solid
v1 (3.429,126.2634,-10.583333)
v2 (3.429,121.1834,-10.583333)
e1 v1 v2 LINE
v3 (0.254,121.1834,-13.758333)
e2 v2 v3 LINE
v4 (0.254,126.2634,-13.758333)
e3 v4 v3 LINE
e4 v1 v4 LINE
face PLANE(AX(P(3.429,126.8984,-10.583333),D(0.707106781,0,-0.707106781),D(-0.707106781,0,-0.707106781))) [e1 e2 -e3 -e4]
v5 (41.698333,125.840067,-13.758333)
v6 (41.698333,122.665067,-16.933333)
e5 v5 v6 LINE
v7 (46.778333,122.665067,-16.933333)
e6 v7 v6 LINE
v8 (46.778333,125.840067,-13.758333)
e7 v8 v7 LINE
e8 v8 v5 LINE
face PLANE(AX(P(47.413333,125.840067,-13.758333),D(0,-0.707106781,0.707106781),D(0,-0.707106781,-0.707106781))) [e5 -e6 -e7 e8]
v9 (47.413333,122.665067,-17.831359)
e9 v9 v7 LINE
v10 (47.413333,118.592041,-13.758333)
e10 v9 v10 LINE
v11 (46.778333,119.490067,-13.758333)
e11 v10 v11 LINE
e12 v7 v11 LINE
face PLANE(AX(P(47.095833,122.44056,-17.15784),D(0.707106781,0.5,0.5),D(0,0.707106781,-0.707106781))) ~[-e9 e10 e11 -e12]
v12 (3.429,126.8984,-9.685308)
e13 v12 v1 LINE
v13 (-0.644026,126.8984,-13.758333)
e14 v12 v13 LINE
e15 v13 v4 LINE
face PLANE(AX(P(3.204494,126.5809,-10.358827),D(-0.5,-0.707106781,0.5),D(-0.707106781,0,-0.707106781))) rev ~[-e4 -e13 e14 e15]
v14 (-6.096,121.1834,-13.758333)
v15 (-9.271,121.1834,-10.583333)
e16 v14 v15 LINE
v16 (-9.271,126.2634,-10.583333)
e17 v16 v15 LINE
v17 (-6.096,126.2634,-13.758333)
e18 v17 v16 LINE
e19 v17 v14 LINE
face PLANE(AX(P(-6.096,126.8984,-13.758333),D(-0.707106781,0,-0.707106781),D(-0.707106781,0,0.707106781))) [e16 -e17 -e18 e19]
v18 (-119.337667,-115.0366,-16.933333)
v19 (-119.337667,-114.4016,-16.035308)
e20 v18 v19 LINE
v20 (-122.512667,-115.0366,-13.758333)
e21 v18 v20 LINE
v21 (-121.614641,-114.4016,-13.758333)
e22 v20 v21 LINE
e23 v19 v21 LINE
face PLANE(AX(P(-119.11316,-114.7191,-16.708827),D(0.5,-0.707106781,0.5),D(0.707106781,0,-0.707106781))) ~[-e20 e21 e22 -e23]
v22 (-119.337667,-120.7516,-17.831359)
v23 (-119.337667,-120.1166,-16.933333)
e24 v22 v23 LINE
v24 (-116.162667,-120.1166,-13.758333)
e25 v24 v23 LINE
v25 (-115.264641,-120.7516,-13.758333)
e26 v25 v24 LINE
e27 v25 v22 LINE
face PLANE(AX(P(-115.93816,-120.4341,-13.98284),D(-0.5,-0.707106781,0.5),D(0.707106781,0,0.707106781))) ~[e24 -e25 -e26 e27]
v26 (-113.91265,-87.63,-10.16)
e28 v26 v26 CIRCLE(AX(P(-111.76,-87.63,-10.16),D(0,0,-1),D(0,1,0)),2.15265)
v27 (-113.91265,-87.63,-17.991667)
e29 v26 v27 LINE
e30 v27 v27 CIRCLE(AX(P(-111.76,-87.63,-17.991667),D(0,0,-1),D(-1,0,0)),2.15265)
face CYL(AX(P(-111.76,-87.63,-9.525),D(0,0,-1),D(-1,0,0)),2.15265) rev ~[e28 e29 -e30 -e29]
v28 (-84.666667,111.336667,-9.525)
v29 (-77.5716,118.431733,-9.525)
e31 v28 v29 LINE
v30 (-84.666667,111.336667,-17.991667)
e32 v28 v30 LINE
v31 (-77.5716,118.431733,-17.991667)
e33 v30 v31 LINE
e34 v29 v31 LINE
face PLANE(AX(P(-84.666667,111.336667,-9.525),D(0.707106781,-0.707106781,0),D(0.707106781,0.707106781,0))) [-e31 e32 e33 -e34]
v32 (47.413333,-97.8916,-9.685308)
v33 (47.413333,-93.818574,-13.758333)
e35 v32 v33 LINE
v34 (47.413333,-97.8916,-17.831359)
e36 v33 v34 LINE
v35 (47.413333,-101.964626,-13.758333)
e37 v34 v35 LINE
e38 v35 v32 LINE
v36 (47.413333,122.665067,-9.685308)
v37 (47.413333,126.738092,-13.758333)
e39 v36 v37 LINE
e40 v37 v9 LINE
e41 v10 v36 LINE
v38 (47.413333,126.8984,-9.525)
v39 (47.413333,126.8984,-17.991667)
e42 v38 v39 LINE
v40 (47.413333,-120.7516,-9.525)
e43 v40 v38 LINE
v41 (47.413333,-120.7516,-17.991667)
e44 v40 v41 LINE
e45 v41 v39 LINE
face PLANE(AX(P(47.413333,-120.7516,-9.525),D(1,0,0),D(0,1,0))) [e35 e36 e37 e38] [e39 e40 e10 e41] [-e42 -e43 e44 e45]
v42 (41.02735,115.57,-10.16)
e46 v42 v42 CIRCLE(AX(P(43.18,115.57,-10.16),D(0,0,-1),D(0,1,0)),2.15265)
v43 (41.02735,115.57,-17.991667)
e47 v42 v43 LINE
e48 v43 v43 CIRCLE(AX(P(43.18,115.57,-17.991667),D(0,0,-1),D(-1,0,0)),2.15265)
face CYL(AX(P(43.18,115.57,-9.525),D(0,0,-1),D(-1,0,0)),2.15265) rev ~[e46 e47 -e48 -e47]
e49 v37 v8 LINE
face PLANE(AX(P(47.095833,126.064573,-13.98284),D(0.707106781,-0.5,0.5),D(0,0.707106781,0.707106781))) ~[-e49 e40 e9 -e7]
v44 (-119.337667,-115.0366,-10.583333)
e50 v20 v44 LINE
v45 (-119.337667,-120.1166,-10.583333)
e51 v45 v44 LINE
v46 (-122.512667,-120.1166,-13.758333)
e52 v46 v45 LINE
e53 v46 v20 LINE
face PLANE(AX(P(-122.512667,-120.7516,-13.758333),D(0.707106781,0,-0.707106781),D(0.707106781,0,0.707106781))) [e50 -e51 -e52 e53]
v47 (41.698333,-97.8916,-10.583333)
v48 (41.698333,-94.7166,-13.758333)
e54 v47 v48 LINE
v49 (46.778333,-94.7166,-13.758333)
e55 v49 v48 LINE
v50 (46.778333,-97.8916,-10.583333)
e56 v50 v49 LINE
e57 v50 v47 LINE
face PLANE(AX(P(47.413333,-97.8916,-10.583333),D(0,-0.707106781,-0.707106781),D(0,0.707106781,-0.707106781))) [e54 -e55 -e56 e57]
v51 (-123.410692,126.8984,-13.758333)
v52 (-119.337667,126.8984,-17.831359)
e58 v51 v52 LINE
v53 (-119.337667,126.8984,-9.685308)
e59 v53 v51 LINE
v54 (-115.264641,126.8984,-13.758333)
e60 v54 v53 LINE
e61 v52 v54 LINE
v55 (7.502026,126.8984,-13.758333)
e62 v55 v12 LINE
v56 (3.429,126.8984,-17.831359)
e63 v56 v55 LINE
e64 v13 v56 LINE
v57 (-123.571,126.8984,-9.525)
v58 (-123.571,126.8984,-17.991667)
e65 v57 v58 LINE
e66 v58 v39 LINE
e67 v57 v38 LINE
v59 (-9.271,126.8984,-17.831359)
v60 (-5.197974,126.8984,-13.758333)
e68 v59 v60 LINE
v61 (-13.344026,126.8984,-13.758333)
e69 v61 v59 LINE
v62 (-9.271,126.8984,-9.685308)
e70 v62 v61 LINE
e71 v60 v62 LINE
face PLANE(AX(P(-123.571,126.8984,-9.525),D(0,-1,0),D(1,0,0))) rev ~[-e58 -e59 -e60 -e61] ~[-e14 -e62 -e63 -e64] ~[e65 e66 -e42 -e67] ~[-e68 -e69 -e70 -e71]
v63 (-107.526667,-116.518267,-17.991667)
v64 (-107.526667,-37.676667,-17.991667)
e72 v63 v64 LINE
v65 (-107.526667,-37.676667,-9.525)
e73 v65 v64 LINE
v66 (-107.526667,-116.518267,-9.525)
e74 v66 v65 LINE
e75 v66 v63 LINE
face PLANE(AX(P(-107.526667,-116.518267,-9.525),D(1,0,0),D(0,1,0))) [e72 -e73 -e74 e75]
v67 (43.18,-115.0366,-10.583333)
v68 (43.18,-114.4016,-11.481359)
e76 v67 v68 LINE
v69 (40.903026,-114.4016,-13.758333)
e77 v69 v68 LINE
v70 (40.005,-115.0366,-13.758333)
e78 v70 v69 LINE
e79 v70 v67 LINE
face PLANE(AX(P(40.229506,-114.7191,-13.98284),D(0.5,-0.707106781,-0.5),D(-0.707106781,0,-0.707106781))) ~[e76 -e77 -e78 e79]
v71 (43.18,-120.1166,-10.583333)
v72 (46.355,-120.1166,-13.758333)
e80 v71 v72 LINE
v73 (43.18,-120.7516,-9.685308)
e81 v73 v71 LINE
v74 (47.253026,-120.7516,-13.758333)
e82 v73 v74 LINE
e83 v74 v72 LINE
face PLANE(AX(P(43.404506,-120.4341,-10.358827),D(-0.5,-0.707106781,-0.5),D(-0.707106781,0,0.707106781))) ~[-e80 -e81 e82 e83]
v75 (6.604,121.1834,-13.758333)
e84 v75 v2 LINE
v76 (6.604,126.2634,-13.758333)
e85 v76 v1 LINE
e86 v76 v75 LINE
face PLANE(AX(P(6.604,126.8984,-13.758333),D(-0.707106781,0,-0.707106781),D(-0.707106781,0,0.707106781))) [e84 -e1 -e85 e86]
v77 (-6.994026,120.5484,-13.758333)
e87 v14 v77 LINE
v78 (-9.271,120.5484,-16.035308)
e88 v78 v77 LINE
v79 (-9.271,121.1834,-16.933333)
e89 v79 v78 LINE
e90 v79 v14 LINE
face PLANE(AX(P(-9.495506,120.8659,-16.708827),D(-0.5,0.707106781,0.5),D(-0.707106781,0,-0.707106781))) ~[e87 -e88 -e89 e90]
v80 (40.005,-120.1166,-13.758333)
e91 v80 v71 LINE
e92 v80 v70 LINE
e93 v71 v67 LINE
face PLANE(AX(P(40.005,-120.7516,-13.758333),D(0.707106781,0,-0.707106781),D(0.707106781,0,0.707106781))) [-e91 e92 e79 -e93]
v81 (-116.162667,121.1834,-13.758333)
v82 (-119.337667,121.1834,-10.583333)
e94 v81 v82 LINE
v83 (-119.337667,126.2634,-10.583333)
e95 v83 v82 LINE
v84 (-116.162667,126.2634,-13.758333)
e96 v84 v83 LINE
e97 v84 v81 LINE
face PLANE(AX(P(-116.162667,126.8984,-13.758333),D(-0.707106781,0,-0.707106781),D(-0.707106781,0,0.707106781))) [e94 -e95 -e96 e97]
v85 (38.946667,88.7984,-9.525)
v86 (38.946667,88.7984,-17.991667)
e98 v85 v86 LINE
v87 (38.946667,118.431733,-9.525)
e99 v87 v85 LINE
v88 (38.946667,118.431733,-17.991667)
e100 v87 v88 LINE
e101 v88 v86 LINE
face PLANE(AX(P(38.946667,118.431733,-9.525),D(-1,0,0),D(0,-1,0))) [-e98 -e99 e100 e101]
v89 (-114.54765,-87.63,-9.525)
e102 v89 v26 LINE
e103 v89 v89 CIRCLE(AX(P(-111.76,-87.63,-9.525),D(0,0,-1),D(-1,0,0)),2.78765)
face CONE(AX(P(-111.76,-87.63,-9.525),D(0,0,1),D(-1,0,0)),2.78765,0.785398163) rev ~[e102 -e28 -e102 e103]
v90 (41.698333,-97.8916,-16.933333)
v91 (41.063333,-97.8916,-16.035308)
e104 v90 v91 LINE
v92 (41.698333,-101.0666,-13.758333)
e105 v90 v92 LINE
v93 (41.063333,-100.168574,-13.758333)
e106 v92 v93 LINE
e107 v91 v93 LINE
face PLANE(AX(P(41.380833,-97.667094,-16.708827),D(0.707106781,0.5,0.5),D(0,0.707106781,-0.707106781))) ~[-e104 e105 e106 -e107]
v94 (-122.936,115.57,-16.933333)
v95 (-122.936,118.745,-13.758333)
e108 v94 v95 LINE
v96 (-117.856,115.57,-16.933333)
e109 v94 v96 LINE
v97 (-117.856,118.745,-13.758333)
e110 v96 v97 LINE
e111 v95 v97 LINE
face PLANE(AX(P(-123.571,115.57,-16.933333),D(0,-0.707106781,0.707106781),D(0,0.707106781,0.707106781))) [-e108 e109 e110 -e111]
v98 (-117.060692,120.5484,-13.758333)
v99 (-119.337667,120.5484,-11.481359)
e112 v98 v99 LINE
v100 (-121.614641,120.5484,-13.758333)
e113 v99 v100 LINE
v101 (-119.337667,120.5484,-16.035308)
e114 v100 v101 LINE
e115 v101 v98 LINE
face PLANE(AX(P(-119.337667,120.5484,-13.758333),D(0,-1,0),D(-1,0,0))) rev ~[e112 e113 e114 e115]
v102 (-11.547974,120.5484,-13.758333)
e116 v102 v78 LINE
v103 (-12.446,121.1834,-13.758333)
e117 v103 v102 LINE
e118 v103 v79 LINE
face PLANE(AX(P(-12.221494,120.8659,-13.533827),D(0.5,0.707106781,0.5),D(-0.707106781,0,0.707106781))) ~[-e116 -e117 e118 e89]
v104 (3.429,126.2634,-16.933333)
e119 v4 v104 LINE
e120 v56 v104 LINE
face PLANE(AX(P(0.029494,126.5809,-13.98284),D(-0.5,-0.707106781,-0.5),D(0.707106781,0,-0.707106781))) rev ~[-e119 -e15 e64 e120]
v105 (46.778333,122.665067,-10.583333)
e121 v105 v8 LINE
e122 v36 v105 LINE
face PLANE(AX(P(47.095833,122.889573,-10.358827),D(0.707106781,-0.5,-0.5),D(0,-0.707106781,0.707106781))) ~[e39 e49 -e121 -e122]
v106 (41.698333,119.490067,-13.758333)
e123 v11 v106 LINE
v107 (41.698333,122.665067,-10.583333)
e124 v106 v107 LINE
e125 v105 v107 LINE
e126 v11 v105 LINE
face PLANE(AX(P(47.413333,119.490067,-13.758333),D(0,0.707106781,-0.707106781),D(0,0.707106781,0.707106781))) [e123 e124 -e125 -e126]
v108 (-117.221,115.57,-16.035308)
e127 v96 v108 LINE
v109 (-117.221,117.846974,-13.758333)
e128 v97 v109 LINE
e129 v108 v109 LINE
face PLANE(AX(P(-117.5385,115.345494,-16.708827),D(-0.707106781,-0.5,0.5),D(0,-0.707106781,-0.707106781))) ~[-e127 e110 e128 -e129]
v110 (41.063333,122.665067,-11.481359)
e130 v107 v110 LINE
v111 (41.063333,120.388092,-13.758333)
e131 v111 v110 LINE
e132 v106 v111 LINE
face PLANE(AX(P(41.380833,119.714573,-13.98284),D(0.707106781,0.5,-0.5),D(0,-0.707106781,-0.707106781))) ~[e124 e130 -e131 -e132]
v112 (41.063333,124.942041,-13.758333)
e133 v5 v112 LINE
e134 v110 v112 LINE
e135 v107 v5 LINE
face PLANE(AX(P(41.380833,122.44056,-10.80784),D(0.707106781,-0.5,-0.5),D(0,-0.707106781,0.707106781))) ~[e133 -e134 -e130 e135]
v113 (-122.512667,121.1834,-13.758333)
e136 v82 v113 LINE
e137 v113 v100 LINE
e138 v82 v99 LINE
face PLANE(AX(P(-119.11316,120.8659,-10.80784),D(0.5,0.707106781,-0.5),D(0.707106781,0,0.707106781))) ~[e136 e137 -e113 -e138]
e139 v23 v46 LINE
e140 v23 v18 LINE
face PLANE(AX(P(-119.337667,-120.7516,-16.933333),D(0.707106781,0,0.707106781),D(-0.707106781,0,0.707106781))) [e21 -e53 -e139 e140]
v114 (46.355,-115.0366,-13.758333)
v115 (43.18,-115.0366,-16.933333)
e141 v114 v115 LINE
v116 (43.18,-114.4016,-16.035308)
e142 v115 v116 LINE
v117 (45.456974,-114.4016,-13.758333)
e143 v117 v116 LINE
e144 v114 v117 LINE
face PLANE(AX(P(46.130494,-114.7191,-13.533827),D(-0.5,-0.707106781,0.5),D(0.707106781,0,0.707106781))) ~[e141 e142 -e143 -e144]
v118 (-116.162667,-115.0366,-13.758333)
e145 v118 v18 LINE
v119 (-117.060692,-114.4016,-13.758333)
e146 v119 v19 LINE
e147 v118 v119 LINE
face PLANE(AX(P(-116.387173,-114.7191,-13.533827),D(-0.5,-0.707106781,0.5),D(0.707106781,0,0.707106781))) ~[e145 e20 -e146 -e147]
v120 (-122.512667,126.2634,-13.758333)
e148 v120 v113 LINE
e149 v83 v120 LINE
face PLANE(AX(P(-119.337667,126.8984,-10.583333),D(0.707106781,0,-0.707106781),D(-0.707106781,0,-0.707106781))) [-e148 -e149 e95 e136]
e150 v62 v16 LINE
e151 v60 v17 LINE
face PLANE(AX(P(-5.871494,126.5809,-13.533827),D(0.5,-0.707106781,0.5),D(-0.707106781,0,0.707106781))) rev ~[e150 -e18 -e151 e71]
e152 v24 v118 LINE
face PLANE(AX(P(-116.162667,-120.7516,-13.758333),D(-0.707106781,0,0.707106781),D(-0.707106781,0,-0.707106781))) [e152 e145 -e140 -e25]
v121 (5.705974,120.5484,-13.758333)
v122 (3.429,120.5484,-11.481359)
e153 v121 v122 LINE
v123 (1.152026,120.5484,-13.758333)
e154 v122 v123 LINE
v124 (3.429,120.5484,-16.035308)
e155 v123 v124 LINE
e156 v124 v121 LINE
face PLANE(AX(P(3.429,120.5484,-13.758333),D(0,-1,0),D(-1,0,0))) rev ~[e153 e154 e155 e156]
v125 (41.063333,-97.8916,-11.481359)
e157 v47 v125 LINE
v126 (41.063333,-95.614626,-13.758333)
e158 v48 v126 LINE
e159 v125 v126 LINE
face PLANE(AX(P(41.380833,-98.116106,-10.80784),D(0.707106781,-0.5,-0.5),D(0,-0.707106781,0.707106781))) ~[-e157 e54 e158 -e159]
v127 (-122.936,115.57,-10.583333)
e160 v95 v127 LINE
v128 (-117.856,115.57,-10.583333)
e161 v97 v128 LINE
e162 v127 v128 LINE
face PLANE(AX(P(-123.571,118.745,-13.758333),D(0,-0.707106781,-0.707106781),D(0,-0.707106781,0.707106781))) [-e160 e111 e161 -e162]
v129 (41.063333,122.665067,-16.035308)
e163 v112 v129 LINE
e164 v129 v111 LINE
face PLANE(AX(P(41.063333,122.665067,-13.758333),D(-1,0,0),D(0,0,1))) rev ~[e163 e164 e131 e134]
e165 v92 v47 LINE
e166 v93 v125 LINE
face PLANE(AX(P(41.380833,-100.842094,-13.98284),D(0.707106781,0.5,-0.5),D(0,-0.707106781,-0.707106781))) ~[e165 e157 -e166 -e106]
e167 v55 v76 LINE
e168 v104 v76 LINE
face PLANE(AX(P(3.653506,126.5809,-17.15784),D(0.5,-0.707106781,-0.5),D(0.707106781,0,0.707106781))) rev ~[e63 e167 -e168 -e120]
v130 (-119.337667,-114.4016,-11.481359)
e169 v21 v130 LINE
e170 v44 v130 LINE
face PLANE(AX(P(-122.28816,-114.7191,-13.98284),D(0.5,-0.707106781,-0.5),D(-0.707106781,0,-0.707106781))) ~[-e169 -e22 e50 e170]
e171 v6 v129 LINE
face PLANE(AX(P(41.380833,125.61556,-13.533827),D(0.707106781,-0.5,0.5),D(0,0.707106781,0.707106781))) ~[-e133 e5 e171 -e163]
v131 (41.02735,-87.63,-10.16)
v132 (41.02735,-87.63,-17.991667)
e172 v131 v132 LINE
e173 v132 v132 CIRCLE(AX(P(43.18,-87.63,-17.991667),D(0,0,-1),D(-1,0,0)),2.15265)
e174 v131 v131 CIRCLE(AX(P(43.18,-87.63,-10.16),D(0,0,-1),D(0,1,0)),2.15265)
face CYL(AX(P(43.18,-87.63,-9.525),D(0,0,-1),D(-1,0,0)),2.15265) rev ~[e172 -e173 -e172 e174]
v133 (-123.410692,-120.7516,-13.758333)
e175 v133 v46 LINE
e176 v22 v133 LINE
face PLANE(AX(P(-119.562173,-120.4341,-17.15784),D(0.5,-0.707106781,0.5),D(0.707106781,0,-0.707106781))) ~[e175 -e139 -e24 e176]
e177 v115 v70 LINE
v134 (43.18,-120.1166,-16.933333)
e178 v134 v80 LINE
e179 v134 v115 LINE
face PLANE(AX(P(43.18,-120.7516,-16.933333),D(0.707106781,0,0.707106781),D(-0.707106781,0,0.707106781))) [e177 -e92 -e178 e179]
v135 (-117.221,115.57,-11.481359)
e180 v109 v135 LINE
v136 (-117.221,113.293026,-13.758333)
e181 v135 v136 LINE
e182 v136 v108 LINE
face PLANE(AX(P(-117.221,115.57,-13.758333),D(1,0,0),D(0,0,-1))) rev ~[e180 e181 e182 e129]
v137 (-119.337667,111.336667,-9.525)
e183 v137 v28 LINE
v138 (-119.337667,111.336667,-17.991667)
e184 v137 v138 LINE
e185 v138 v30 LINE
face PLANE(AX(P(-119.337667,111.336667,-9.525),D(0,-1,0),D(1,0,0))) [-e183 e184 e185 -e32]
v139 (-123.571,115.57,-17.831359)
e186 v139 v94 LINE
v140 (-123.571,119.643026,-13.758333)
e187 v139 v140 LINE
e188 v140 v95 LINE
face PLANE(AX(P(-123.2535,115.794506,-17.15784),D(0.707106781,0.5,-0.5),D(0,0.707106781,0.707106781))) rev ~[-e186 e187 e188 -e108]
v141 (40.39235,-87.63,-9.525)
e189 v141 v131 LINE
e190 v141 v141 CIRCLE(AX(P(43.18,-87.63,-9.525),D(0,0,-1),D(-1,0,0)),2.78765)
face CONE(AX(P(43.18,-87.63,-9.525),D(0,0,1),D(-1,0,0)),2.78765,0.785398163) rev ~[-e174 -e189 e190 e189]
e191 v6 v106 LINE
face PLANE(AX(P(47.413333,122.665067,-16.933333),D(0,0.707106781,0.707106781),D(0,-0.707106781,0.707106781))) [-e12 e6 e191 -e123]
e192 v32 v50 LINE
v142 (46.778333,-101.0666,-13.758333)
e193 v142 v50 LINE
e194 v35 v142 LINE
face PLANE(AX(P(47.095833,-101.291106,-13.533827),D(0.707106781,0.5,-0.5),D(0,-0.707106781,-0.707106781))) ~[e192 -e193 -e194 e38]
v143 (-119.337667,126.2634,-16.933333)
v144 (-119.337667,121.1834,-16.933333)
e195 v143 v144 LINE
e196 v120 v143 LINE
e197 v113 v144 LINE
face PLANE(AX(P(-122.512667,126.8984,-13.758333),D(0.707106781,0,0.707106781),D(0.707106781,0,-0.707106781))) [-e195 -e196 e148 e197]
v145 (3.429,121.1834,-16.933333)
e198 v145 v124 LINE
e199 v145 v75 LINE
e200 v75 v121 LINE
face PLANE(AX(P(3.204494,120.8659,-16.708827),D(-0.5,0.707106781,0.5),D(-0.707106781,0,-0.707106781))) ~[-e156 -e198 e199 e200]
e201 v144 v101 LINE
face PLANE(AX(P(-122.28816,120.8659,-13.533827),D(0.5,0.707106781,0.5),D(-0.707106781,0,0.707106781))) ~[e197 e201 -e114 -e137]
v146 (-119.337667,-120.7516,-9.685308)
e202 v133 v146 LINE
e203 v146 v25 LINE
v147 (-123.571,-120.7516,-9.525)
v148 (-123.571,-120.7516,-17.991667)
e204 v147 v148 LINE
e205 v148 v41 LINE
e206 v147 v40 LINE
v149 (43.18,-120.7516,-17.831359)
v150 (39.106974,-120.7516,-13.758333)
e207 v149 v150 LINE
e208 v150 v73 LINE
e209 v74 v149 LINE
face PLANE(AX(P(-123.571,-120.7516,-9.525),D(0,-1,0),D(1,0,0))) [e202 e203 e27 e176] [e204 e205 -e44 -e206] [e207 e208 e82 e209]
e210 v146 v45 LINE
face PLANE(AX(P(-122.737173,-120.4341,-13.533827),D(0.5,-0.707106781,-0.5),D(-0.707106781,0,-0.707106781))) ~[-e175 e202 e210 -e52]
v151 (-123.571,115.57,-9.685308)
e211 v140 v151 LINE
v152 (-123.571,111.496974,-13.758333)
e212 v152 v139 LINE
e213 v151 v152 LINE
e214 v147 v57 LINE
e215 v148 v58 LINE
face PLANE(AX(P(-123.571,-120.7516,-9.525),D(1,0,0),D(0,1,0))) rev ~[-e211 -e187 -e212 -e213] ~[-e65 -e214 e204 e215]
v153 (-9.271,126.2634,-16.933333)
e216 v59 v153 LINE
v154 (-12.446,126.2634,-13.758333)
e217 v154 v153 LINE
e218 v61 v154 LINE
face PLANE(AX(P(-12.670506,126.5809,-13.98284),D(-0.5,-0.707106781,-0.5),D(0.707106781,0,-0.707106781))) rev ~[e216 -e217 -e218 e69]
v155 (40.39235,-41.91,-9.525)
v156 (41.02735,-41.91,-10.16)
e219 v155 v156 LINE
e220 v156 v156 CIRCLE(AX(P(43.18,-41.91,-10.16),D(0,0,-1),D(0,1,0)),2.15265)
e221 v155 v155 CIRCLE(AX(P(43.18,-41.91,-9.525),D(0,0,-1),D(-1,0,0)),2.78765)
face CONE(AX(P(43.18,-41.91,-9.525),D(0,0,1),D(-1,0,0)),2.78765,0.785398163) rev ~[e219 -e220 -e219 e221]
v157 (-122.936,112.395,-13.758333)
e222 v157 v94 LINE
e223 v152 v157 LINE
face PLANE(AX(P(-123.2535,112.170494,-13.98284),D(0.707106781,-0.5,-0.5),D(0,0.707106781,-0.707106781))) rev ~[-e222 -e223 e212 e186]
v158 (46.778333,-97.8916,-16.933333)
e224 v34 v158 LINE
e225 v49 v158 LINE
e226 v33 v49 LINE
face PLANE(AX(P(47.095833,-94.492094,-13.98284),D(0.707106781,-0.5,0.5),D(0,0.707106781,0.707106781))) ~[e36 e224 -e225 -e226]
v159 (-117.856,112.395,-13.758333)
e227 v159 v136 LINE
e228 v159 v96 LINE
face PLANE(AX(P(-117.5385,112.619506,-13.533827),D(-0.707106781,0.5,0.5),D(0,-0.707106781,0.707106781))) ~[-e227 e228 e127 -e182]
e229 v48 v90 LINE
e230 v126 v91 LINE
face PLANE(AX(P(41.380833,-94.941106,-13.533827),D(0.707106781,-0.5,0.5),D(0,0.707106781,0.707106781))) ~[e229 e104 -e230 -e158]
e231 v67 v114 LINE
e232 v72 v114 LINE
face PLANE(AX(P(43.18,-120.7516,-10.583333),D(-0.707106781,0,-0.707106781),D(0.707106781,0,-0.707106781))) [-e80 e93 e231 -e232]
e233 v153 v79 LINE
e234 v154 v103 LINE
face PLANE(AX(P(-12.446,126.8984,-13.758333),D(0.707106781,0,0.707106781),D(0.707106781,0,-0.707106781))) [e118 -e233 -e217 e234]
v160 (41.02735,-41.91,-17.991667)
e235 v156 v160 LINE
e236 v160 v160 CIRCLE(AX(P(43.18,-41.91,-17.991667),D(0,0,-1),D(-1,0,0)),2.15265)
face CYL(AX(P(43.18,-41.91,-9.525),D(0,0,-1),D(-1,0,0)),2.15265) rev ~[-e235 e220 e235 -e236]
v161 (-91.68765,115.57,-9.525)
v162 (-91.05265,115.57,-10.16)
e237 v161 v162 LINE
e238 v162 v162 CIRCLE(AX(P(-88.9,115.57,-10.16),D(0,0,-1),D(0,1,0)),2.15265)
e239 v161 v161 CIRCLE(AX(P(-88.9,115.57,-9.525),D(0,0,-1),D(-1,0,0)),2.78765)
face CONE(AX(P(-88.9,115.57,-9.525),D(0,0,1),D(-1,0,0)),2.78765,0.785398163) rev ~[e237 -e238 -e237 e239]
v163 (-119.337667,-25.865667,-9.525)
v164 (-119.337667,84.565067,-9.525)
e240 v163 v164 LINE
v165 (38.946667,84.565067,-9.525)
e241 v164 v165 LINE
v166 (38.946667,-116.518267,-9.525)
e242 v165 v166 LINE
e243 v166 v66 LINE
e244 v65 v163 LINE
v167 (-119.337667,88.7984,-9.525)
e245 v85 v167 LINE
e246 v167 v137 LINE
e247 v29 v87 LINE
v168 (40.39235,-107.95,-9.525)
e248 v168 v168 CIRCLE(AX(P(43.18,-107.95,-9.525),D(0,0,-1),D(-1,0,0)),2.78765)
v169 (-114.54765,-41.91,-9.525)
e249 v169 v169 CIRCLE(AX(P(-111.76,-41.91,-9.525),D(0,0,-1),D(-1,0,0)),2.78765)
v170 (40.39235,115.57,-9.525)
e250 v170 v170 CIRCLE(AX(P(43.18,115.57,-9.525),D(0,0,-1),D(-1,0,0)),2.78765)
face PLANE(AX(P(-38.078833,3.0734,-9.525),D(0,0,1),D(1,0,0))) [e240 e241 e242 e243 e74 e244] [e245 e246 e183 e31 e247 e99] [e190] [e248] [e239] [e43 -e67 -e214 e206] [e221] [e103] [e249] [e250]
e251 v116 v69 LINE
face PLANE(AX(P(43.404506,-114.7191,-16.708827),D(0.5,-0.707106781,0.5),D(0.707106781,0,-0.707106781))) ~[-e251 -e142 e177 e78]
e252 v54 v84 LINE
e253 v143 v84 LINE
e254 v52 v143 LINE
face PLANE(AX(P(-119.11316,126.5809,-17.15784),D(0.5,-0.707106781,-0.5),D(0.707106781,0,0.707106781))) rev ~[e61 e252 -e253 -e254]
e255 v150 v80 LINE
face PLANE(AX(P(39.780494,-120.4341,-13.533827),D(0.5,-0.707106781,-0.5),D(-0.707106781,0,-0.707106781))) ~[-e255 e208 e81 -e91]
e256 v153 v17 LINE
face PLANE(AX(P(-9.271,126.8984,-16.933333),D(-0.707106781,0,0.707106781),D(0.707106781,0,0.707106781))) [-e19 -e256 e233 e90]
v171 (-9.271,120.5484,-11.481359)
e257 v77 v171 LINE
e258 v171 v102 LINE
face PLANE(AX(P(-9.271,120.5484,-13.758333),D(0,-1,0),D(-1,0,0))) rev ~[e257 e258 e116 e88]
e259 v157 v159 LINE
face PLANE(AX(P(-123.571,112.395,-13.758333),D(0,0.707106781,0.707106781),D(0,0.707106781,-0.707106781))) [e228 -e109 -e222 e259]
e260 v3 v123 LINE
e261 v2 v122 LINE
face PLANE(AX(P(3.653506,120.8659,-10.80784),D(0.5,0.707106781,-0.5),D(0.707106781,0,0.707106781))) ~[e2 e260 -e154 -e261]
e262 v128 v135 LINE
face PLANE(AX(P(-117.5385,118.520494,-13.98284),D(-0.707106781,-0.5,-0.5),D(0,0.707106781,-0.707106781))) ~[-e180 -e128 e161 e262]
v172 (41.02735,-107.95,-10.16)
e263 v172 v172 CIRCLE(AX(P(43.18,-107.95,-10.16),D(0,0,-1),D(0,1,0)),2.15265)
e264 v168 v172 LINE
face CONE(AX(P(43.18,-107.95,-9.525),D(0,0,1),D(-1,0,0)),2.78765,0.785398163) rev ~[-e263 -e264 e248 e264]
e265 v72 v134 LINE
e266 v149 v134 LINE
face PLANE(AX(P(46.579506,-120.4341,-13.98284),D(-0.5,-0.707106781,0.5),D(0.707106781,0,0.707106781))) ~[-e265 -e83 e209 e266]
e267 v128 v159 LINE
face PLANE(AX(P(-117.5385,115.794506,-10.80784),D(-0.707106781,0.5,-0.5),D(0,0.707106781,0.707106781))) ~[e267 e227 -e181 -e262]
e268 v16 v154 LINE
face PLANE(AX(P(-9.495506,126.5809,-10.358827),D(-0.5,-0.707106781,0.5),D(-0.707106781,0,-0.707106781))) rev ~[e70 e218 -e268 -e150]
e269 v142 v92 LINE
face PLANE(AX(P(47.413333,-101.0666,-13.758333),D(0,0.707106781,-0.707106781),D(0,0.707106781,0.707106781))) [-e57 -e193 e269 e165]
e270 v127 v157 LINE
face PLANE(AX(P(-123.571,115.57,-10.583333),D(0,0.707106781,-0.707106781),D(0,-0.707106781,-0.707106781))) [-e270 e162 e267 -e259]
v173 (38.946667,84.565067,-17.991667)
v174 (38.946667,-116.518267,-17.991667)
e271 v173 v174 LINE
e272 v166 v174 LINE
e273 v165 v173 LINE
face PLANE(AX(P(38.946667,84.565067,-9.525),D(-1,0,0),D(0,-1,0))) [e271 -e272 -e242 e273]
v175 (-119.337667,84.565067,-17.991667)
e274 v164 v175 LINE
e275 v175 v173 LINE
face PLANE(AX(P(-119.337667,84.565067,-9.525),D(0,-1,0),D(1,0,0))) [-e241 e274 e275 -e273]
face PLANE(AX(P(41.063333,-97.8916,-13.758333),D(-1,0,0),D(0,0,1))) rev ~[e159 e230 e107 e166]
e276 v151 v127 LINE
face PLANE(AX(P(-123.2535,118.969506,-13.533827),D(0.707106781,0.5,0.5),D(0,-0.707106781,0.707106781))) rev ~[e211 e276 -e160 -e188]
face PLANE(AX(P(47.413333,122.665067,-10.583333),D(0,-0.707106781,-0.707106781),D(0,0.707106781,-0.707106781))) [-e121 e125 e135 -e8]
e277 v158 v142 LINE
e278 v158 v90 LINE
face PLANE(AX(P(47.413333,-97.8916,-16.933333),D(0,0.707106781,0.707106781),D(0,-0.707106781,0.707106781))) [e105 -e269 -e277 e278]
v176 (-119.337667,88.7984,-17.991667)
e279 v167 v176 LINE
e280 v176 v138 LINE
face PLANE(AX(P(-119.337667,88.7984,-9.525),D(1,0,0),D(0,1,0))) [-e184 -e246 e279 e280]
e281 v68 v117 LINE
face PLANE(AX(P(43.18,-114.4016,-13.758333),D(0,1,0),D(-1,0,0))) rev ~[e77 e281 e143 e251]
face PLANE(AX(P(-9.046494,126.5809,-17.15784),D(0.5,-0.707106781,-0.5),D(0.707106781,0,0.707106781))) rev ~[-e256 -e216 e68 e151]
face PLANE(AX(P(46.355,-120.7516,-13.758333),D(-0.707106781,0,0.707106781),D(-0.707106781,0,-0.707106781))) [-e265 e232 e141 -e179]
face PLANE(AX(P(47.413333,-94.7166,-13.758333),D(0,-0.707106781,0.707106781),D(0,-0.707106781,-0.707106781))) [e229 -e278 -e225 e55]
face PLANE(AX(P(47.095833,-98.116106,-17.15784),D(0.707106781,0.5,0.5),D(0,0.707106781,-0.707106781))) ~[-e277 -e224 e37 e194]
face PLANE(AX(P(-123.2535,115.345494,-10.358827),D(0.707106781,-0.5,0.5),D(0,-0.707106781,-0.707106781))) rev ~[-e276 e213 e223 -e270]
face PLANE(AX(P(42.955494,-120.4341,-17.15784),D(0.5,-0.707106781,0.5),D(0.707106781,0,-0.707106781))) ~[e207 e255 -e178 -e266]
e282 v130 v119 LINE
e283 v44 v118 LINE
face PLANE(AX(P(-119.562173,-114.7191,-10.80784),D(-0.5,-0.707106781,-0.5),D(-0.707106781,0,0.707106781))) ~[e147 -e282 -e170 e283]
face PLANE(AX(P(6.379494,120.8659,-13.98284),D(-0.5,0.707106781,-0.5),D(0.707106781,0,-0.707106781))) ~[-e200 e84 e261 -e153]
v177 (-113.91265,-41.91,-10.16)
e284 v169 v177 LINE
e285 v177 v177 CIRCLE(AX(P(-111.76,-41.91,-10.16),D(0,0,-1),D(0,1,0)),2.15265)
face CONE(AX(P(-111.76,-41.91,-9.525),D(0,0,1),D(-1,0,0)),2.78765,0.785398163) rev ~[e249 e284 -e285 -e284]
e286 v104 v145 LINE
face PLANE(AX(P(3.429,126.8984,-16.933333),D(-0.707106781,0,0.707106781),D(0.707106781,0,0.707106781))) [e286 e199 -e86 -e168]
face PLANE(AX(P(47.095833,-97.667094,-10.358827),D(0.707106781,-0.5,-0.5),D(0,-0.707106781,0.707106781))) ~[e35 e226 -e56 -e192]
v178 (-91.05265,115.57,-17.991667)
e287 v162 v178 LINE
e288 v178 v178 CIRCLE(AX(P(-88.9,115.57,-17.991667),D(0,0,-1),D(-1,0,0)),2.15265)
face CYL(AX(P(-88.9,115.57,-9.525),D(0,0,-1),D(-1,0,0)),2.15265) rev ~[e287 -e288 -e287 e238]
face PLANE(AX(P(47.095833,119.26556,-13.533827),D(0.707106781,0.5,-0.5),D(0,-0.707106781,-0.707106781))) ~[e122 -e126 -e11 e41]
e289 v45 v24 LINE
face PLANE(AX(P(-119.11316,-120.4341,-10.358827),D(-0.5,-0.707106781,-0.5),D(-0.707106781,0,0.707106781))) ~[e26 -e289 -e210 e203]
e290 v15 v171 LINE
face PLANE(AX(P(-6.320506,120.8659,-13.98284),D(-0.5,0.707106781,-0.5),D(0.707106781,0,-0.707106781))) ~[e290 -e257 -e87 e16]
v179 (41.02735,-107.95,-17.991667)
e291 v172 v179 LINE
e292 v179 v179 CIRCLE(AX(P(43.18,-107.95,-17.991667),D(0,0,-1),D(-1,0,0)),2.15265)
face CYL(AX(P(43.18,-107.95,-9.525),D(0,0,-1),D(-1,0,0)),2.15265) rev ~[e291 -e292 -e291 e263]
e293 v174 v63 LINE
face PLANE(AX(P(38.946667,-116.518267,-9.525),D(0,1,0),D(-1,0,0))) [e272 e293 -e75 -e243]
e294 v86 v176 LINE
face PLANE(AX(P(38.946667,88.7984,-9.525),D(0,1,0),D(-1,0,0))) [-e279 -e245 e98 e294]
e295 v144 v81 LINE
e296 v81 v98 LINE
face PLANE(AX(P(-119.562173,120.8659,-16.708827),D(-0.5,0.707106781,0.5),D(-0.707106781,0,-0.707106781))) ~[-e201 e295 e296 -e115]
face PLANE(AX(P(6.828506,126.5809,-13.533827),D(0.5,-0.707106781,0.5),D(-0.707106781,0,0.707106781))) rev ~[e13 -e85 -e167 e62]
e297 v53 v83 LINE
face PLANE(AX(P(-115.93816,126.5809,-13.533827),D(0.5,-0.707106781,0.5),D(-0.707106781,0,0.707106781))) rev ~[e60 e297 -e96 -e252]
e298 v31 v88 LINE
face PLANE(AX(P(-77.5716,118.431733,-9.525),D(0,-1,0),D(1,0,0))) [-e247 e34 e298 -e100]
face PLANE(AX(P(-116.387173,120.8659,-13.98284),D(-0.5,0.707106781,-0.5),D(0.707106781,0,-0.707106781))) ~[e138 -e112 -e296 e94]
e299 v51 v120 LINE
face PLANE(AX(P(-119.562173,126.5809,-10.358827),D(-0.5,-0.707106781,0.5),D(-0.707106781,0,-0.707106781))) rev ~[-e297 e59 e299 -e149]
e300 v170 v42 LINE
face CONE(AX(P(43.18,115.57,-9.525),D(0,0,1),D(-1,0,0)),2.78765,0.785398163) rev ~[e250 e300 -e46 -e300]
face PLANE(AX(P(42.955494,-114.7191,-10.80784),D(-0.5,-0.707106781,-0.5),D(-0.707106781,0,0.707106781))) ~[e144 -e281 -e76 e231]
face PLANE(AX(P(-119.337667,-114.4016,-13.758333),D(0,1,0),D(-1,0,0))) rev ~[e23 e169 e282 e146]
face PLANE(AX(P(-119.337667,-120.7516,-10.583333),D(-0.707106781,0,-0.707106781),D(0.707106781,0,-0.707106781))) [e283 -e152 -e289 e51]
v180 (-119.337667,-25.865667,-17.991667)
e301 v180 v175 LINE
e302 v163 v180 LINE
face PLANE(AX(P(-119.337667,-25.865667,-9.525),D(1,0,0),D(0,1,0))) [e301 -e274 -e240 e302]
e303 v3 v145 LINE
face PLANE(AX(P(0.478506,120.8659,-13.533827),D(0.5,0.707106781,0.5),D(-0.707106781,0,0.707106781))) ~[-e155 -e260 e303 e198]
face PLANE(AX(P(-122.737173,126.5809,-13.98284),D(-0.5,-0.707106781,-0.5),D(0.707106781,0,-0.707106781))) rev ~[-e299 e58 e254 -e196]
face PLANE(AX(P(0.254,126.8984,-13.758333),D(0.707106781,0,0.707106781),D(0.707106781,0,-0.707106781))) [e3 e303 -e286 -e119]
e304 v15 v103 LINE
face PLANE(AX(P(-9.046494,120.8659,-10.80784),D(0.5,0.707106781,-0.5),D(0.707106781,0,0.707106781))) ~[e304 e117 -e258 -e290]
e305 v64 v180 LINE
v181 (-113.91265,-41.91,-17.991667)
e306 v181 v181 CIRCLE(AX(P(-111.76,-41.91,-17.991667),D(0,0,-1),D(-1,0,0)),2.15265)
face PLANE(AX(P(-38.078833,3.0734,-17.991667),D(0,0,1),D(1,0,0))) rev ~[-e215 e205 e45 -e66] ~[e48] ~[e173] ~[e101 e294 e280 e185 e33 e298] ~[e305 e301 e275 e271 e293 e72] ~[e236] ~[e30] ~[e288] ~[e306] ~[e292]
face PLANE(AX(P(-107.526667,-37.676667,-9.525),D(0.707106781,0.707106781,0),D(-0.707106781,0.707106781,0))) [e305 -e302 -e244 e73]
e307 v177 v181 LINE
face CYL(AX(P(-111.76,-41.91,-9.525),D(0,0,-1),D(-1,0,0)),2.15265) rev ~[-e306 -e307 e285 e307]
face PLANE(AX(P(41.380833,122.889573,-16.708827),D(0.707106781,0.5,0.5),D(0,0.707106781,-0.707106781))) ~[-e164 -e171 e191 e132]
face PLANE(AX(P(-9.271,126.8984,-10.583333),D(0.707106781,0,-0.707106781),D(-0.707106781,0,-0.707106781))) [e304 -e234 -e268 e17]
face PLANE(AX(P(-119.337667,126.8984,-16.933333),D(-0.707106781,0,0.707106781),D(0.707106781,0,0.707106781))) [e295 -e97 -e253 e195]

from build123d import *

# Parameters (mm, degrees)
BOSS_EXTRUDE1_START                    = -9.525
SKETCH1_W                              = 170.984333333
SKETCH1_H                              = 247.65
BOSS_EXTRUDE1_DEPTH                    = 8.466666667
F_18_0_1695_DIAMETER_HOLE1_D           = 4.3053
F_18_0_1695_DIAMETER_HOLE1_CSINK_D     = 5.5753
F_18_0_1695_DIAMETER_HOLE1_CSINK_ANGLE = 90
BOTTOM_PINS_DEPTH                      = 6.35
REAR_PINS_DEPTH                        = 6.35
FRONT_PINS_DEPTH                       = 6.35
CUT_EXTRUDE1_DEPTH                     = 6.35
PIN_CHAMFERS_SIZE                      = 0.635


with BuildPart() as part:
    # Sketch1 → Boss-Extrude1 (new body)
    with BuildSketch(Plane.XY.offset(BOSS_EXTRUDE1_START)):
        with Locations((-38.078833334, 3.0734)):
            Rectangle(SKETCH1_W, SKETCH1_H)
        Polygon((-107.526666667, -116.518266667), (-107.526666667, -37.676666709), (-119.337666709, -25.865666667), (-119.337666709, 84.565066667), (38.946666667, 84.565066667), (38.946666667, -116.518266667), align=None, mode=Mode.SUBTRACT)
        Polygon((-119.337666709, 111.336666667), (-84.666666667, 111.336666667), (-77.5716, 118.431733333), (38.946666667, 118.431733333), (38.946666667, 88.7984), (-119.337666709, 88.7984), align=None, mode=Mode.SUBTRACT)
    extrude(amount=-BOSS_EXTRUDE1_DEPTH)

    # #18 (0.1695) Diameter Hole1 (through all)
    with Locations(Plane.XY.offset(-9.525)):
        with Locations((-88.9, 115.57), (43.18, 115.57), (43.18, -41.91), (43.18, -87.63), (43.18, -107.95), (-111.76, -87.63), (-111.76, -41.91)):
            CounterSinkHole(F_18_0_1695_DIAMETER_HOLE1_D / 2, F_18_0_1695_DIAMETER_HOLE1_CSINK_D / 2, counter_sink_angle=F_18_0_1695_DIAMETER_HOLE1_CSINK_ANGLE)

    # Sketch2 → bottom pins (cut)
    with BuildSketch(Plane.XZ.offset(120.7516)):
        Polygon((-122.512666667, -13.758333333), (-119.337666667, -10.583333333), (-116.162666667, -13.758333333), (-119.337666667, -16.933333333), align=None)
        Polygon((40.005, -13.758333333), (43.18, -10.583333333), (46.355, -13.758333333), (43.18, -16.933333333), align=None)
    extrude(amount=-BOTTOM_PINS_DEPTH, mode=Mode.SUBTRACT)

    # Sketch3 → rear pins (cut)
    with BuildSketch(Plane.ZY.offset(123.571)):
        Polygon((-16.933333333, 115.57), (-13.758333333, 118.745), (-10.583333333, 115.57), (-13.758333333, 112.395), align=None)
    extrude(amount=-REAR_PINS_DEPTH, mode=Mode.SUBTRACT)

    # Sketch4 → front pins (cut)
    with BuildSketch(Plane(origin=(47.413333333, 0, 0), x_dir=(0, 0, -1), z_dir=(1, 0, 0))):
        Polygon((10.583333333, 122.665066667), (13.758333333, 125.840066667), (16.933333333, 122.665066667), (13.758333333, 119.490066667), align=None)
        Polygon((10.583333333, -97.8916), (13.758333333, -94.7166), (16.933333333, -97.8916), (13.758333333, -101.0666), align=None)
    extrude(amount=-FRONT_PINS_DEPTH, mode=Mode.SUBTRACT)

    # Sketch7 → Cut-Extrude1 (cut)
    with BuildSketch(Plane(origin=(0, 126.8984, 0), x_dir=(1, 0, 0), z_dir=(0, 1, 0))):
        Polygon((-6.095999915, 13.758333333), (-9.270999915, 10.583333333), (-12.445999915, 13.758333333), (-9.270999915, 16.933333333), align=None)
        Polygon((-116.162666667, 13.758333333), (-119.337666667, 10.583333333), (-122.512666667, 13.758333333), (-119.337666667, 16.933333333), align=None)
        Polygon((0.254000085, 13.758333333), (3.429000085, 16.933333333), (6.604000085, 13.758333333), (3.429000085, 10.583333333), align=None)
    extrude(amount=-CUT_EXTRUDE1_DEPTH, mode=Mode.SUBTRACT)

    # pin chamfers
    pin_chamfers_edges = [part.edges().sort_by_distance(p)[0] for p in [
        (-120.925166667, -114.4016, -15.345833333),
        (-120.925166667, -114.4016, -12.170833333),
        (-117.750166667, -114.4016, -12.170833333),
        (-117.750166667, -114.4016, -15.345833333),
        (-120.925166667, -120.7516, -15.345833333),
        (-117.750166667, -120.7516, -15.345833333),
        (-117.750166667, -120.7516, -12.170833333),
        (-120.925166667, -120.7516, -12.170833333),
        (41.5925, -114.4016, -15.345833333),
        (41.5925, -114.4016, -12.170833333),
        (44.7675, -114.4016, -12.170833333),
        (44.7675, -114.4016, -15.345833333),
        (41.5925, -120.7516, -15.345833333),
        (44.7675, -120.7516, -15.345833333),
        (44.7675, -120.7516, -12.170833333),
        (41.5925, -120.7516, -12.170833333),
        (-117.221, 113.9825, -15.345833333),
        (-117.221, 117.1575, -15.345833333),
        (-117.221, 117.1575, -12.170833333),
        (-117.221, 113.9825, -12.170833333),
        (-123.571, 113.9825, -15.345833333),
        (-123.571, 113.9825, -12.170833333),
        (-123.571, 117.1575, -12.170833333),
        (-123.571, 117.1575, -15.345833333),
        (41.063333333, 121.077566667, -12.170833333),
        (41.063333333, 124.252566667, -12.170833333),
        (41.063333333, 124.252566667, -15.345833333),
        (41.063333333, 121.077566667, -15.345833333),
        (47.413333333, 121.077566667, -12.170833333),
        (47.413333333, 121.077566667, -15.345833333),
        (47.413333333, 124.252566667, -15.345833333),
        (47.413333333, 124.252566667, -12.170833333),
        (41.063333333, -99.4791, -12.170833333),
        (41.063333333, -96.3041, -12.170833333),
        (41.063333333, -96.3041, -15.345833333),
        (41.063333333, -99.4791, -15.345833333),
        (47.413333333, -99.4791, -12.170833333),
        (47.413333333, -99.4791, -15.345833333),
        (47.413333333, -96.3041, -15.345833333),
        (47.413333333, -96.3041, -12.170833333),
        (1.841500085, 120.5484, -12.170833333),
        (1.841500085, 120.5484, -15.345833333),
        (5.016500085, 120.5484, -15.345833333),
        (5.016500085, 120.5484, -12.170833333),
        (1.841500085, 126.8984, -12.170833333),
        (5.016500085, 126.8984, -12.170833333),
        (5.016500085, 126.8984, -15.345833333),
        (1.841500085, 126.8984, -15.345833333),
        (-117.750166667, 120.5484, -15.345833333),
        (-117.750166667, 120.5484, -12.170833333),
        (-120.925166667, 120.5484, -12.170833333),
        (-120.925166667, 120.5484, -15.345833333),
        (-117.750166667, 126.8984, -15.345833333),
        (-120.925166667, 126.8984, -15.345833333),
        (-120.925166667, 126.8984, -12.170833333),
        (-117.750166667, 126.8984, -12.170833333),
        (-7.683499915, 120.5484, -15.345833333),
        (-7.683499915, 120.5484, -12.170833333),
        (-10.858499915, 120.5484, -12.170833333),
        (-10.858499915, 120.5484, -15.345833333),
        (-7.683499915, 126.8984, -15.345833333),
        (-10.858499915, 126.8984, -15.345833333),
        (-10.858499915, 126.8984, -12.170833333),
        (-7.683499915, 126.8984, -12.170833333),
    ]]
    chamfer(pin_chamfers_edges, length=PIN_CHAMFERS_SIZE)


solid = part.part
